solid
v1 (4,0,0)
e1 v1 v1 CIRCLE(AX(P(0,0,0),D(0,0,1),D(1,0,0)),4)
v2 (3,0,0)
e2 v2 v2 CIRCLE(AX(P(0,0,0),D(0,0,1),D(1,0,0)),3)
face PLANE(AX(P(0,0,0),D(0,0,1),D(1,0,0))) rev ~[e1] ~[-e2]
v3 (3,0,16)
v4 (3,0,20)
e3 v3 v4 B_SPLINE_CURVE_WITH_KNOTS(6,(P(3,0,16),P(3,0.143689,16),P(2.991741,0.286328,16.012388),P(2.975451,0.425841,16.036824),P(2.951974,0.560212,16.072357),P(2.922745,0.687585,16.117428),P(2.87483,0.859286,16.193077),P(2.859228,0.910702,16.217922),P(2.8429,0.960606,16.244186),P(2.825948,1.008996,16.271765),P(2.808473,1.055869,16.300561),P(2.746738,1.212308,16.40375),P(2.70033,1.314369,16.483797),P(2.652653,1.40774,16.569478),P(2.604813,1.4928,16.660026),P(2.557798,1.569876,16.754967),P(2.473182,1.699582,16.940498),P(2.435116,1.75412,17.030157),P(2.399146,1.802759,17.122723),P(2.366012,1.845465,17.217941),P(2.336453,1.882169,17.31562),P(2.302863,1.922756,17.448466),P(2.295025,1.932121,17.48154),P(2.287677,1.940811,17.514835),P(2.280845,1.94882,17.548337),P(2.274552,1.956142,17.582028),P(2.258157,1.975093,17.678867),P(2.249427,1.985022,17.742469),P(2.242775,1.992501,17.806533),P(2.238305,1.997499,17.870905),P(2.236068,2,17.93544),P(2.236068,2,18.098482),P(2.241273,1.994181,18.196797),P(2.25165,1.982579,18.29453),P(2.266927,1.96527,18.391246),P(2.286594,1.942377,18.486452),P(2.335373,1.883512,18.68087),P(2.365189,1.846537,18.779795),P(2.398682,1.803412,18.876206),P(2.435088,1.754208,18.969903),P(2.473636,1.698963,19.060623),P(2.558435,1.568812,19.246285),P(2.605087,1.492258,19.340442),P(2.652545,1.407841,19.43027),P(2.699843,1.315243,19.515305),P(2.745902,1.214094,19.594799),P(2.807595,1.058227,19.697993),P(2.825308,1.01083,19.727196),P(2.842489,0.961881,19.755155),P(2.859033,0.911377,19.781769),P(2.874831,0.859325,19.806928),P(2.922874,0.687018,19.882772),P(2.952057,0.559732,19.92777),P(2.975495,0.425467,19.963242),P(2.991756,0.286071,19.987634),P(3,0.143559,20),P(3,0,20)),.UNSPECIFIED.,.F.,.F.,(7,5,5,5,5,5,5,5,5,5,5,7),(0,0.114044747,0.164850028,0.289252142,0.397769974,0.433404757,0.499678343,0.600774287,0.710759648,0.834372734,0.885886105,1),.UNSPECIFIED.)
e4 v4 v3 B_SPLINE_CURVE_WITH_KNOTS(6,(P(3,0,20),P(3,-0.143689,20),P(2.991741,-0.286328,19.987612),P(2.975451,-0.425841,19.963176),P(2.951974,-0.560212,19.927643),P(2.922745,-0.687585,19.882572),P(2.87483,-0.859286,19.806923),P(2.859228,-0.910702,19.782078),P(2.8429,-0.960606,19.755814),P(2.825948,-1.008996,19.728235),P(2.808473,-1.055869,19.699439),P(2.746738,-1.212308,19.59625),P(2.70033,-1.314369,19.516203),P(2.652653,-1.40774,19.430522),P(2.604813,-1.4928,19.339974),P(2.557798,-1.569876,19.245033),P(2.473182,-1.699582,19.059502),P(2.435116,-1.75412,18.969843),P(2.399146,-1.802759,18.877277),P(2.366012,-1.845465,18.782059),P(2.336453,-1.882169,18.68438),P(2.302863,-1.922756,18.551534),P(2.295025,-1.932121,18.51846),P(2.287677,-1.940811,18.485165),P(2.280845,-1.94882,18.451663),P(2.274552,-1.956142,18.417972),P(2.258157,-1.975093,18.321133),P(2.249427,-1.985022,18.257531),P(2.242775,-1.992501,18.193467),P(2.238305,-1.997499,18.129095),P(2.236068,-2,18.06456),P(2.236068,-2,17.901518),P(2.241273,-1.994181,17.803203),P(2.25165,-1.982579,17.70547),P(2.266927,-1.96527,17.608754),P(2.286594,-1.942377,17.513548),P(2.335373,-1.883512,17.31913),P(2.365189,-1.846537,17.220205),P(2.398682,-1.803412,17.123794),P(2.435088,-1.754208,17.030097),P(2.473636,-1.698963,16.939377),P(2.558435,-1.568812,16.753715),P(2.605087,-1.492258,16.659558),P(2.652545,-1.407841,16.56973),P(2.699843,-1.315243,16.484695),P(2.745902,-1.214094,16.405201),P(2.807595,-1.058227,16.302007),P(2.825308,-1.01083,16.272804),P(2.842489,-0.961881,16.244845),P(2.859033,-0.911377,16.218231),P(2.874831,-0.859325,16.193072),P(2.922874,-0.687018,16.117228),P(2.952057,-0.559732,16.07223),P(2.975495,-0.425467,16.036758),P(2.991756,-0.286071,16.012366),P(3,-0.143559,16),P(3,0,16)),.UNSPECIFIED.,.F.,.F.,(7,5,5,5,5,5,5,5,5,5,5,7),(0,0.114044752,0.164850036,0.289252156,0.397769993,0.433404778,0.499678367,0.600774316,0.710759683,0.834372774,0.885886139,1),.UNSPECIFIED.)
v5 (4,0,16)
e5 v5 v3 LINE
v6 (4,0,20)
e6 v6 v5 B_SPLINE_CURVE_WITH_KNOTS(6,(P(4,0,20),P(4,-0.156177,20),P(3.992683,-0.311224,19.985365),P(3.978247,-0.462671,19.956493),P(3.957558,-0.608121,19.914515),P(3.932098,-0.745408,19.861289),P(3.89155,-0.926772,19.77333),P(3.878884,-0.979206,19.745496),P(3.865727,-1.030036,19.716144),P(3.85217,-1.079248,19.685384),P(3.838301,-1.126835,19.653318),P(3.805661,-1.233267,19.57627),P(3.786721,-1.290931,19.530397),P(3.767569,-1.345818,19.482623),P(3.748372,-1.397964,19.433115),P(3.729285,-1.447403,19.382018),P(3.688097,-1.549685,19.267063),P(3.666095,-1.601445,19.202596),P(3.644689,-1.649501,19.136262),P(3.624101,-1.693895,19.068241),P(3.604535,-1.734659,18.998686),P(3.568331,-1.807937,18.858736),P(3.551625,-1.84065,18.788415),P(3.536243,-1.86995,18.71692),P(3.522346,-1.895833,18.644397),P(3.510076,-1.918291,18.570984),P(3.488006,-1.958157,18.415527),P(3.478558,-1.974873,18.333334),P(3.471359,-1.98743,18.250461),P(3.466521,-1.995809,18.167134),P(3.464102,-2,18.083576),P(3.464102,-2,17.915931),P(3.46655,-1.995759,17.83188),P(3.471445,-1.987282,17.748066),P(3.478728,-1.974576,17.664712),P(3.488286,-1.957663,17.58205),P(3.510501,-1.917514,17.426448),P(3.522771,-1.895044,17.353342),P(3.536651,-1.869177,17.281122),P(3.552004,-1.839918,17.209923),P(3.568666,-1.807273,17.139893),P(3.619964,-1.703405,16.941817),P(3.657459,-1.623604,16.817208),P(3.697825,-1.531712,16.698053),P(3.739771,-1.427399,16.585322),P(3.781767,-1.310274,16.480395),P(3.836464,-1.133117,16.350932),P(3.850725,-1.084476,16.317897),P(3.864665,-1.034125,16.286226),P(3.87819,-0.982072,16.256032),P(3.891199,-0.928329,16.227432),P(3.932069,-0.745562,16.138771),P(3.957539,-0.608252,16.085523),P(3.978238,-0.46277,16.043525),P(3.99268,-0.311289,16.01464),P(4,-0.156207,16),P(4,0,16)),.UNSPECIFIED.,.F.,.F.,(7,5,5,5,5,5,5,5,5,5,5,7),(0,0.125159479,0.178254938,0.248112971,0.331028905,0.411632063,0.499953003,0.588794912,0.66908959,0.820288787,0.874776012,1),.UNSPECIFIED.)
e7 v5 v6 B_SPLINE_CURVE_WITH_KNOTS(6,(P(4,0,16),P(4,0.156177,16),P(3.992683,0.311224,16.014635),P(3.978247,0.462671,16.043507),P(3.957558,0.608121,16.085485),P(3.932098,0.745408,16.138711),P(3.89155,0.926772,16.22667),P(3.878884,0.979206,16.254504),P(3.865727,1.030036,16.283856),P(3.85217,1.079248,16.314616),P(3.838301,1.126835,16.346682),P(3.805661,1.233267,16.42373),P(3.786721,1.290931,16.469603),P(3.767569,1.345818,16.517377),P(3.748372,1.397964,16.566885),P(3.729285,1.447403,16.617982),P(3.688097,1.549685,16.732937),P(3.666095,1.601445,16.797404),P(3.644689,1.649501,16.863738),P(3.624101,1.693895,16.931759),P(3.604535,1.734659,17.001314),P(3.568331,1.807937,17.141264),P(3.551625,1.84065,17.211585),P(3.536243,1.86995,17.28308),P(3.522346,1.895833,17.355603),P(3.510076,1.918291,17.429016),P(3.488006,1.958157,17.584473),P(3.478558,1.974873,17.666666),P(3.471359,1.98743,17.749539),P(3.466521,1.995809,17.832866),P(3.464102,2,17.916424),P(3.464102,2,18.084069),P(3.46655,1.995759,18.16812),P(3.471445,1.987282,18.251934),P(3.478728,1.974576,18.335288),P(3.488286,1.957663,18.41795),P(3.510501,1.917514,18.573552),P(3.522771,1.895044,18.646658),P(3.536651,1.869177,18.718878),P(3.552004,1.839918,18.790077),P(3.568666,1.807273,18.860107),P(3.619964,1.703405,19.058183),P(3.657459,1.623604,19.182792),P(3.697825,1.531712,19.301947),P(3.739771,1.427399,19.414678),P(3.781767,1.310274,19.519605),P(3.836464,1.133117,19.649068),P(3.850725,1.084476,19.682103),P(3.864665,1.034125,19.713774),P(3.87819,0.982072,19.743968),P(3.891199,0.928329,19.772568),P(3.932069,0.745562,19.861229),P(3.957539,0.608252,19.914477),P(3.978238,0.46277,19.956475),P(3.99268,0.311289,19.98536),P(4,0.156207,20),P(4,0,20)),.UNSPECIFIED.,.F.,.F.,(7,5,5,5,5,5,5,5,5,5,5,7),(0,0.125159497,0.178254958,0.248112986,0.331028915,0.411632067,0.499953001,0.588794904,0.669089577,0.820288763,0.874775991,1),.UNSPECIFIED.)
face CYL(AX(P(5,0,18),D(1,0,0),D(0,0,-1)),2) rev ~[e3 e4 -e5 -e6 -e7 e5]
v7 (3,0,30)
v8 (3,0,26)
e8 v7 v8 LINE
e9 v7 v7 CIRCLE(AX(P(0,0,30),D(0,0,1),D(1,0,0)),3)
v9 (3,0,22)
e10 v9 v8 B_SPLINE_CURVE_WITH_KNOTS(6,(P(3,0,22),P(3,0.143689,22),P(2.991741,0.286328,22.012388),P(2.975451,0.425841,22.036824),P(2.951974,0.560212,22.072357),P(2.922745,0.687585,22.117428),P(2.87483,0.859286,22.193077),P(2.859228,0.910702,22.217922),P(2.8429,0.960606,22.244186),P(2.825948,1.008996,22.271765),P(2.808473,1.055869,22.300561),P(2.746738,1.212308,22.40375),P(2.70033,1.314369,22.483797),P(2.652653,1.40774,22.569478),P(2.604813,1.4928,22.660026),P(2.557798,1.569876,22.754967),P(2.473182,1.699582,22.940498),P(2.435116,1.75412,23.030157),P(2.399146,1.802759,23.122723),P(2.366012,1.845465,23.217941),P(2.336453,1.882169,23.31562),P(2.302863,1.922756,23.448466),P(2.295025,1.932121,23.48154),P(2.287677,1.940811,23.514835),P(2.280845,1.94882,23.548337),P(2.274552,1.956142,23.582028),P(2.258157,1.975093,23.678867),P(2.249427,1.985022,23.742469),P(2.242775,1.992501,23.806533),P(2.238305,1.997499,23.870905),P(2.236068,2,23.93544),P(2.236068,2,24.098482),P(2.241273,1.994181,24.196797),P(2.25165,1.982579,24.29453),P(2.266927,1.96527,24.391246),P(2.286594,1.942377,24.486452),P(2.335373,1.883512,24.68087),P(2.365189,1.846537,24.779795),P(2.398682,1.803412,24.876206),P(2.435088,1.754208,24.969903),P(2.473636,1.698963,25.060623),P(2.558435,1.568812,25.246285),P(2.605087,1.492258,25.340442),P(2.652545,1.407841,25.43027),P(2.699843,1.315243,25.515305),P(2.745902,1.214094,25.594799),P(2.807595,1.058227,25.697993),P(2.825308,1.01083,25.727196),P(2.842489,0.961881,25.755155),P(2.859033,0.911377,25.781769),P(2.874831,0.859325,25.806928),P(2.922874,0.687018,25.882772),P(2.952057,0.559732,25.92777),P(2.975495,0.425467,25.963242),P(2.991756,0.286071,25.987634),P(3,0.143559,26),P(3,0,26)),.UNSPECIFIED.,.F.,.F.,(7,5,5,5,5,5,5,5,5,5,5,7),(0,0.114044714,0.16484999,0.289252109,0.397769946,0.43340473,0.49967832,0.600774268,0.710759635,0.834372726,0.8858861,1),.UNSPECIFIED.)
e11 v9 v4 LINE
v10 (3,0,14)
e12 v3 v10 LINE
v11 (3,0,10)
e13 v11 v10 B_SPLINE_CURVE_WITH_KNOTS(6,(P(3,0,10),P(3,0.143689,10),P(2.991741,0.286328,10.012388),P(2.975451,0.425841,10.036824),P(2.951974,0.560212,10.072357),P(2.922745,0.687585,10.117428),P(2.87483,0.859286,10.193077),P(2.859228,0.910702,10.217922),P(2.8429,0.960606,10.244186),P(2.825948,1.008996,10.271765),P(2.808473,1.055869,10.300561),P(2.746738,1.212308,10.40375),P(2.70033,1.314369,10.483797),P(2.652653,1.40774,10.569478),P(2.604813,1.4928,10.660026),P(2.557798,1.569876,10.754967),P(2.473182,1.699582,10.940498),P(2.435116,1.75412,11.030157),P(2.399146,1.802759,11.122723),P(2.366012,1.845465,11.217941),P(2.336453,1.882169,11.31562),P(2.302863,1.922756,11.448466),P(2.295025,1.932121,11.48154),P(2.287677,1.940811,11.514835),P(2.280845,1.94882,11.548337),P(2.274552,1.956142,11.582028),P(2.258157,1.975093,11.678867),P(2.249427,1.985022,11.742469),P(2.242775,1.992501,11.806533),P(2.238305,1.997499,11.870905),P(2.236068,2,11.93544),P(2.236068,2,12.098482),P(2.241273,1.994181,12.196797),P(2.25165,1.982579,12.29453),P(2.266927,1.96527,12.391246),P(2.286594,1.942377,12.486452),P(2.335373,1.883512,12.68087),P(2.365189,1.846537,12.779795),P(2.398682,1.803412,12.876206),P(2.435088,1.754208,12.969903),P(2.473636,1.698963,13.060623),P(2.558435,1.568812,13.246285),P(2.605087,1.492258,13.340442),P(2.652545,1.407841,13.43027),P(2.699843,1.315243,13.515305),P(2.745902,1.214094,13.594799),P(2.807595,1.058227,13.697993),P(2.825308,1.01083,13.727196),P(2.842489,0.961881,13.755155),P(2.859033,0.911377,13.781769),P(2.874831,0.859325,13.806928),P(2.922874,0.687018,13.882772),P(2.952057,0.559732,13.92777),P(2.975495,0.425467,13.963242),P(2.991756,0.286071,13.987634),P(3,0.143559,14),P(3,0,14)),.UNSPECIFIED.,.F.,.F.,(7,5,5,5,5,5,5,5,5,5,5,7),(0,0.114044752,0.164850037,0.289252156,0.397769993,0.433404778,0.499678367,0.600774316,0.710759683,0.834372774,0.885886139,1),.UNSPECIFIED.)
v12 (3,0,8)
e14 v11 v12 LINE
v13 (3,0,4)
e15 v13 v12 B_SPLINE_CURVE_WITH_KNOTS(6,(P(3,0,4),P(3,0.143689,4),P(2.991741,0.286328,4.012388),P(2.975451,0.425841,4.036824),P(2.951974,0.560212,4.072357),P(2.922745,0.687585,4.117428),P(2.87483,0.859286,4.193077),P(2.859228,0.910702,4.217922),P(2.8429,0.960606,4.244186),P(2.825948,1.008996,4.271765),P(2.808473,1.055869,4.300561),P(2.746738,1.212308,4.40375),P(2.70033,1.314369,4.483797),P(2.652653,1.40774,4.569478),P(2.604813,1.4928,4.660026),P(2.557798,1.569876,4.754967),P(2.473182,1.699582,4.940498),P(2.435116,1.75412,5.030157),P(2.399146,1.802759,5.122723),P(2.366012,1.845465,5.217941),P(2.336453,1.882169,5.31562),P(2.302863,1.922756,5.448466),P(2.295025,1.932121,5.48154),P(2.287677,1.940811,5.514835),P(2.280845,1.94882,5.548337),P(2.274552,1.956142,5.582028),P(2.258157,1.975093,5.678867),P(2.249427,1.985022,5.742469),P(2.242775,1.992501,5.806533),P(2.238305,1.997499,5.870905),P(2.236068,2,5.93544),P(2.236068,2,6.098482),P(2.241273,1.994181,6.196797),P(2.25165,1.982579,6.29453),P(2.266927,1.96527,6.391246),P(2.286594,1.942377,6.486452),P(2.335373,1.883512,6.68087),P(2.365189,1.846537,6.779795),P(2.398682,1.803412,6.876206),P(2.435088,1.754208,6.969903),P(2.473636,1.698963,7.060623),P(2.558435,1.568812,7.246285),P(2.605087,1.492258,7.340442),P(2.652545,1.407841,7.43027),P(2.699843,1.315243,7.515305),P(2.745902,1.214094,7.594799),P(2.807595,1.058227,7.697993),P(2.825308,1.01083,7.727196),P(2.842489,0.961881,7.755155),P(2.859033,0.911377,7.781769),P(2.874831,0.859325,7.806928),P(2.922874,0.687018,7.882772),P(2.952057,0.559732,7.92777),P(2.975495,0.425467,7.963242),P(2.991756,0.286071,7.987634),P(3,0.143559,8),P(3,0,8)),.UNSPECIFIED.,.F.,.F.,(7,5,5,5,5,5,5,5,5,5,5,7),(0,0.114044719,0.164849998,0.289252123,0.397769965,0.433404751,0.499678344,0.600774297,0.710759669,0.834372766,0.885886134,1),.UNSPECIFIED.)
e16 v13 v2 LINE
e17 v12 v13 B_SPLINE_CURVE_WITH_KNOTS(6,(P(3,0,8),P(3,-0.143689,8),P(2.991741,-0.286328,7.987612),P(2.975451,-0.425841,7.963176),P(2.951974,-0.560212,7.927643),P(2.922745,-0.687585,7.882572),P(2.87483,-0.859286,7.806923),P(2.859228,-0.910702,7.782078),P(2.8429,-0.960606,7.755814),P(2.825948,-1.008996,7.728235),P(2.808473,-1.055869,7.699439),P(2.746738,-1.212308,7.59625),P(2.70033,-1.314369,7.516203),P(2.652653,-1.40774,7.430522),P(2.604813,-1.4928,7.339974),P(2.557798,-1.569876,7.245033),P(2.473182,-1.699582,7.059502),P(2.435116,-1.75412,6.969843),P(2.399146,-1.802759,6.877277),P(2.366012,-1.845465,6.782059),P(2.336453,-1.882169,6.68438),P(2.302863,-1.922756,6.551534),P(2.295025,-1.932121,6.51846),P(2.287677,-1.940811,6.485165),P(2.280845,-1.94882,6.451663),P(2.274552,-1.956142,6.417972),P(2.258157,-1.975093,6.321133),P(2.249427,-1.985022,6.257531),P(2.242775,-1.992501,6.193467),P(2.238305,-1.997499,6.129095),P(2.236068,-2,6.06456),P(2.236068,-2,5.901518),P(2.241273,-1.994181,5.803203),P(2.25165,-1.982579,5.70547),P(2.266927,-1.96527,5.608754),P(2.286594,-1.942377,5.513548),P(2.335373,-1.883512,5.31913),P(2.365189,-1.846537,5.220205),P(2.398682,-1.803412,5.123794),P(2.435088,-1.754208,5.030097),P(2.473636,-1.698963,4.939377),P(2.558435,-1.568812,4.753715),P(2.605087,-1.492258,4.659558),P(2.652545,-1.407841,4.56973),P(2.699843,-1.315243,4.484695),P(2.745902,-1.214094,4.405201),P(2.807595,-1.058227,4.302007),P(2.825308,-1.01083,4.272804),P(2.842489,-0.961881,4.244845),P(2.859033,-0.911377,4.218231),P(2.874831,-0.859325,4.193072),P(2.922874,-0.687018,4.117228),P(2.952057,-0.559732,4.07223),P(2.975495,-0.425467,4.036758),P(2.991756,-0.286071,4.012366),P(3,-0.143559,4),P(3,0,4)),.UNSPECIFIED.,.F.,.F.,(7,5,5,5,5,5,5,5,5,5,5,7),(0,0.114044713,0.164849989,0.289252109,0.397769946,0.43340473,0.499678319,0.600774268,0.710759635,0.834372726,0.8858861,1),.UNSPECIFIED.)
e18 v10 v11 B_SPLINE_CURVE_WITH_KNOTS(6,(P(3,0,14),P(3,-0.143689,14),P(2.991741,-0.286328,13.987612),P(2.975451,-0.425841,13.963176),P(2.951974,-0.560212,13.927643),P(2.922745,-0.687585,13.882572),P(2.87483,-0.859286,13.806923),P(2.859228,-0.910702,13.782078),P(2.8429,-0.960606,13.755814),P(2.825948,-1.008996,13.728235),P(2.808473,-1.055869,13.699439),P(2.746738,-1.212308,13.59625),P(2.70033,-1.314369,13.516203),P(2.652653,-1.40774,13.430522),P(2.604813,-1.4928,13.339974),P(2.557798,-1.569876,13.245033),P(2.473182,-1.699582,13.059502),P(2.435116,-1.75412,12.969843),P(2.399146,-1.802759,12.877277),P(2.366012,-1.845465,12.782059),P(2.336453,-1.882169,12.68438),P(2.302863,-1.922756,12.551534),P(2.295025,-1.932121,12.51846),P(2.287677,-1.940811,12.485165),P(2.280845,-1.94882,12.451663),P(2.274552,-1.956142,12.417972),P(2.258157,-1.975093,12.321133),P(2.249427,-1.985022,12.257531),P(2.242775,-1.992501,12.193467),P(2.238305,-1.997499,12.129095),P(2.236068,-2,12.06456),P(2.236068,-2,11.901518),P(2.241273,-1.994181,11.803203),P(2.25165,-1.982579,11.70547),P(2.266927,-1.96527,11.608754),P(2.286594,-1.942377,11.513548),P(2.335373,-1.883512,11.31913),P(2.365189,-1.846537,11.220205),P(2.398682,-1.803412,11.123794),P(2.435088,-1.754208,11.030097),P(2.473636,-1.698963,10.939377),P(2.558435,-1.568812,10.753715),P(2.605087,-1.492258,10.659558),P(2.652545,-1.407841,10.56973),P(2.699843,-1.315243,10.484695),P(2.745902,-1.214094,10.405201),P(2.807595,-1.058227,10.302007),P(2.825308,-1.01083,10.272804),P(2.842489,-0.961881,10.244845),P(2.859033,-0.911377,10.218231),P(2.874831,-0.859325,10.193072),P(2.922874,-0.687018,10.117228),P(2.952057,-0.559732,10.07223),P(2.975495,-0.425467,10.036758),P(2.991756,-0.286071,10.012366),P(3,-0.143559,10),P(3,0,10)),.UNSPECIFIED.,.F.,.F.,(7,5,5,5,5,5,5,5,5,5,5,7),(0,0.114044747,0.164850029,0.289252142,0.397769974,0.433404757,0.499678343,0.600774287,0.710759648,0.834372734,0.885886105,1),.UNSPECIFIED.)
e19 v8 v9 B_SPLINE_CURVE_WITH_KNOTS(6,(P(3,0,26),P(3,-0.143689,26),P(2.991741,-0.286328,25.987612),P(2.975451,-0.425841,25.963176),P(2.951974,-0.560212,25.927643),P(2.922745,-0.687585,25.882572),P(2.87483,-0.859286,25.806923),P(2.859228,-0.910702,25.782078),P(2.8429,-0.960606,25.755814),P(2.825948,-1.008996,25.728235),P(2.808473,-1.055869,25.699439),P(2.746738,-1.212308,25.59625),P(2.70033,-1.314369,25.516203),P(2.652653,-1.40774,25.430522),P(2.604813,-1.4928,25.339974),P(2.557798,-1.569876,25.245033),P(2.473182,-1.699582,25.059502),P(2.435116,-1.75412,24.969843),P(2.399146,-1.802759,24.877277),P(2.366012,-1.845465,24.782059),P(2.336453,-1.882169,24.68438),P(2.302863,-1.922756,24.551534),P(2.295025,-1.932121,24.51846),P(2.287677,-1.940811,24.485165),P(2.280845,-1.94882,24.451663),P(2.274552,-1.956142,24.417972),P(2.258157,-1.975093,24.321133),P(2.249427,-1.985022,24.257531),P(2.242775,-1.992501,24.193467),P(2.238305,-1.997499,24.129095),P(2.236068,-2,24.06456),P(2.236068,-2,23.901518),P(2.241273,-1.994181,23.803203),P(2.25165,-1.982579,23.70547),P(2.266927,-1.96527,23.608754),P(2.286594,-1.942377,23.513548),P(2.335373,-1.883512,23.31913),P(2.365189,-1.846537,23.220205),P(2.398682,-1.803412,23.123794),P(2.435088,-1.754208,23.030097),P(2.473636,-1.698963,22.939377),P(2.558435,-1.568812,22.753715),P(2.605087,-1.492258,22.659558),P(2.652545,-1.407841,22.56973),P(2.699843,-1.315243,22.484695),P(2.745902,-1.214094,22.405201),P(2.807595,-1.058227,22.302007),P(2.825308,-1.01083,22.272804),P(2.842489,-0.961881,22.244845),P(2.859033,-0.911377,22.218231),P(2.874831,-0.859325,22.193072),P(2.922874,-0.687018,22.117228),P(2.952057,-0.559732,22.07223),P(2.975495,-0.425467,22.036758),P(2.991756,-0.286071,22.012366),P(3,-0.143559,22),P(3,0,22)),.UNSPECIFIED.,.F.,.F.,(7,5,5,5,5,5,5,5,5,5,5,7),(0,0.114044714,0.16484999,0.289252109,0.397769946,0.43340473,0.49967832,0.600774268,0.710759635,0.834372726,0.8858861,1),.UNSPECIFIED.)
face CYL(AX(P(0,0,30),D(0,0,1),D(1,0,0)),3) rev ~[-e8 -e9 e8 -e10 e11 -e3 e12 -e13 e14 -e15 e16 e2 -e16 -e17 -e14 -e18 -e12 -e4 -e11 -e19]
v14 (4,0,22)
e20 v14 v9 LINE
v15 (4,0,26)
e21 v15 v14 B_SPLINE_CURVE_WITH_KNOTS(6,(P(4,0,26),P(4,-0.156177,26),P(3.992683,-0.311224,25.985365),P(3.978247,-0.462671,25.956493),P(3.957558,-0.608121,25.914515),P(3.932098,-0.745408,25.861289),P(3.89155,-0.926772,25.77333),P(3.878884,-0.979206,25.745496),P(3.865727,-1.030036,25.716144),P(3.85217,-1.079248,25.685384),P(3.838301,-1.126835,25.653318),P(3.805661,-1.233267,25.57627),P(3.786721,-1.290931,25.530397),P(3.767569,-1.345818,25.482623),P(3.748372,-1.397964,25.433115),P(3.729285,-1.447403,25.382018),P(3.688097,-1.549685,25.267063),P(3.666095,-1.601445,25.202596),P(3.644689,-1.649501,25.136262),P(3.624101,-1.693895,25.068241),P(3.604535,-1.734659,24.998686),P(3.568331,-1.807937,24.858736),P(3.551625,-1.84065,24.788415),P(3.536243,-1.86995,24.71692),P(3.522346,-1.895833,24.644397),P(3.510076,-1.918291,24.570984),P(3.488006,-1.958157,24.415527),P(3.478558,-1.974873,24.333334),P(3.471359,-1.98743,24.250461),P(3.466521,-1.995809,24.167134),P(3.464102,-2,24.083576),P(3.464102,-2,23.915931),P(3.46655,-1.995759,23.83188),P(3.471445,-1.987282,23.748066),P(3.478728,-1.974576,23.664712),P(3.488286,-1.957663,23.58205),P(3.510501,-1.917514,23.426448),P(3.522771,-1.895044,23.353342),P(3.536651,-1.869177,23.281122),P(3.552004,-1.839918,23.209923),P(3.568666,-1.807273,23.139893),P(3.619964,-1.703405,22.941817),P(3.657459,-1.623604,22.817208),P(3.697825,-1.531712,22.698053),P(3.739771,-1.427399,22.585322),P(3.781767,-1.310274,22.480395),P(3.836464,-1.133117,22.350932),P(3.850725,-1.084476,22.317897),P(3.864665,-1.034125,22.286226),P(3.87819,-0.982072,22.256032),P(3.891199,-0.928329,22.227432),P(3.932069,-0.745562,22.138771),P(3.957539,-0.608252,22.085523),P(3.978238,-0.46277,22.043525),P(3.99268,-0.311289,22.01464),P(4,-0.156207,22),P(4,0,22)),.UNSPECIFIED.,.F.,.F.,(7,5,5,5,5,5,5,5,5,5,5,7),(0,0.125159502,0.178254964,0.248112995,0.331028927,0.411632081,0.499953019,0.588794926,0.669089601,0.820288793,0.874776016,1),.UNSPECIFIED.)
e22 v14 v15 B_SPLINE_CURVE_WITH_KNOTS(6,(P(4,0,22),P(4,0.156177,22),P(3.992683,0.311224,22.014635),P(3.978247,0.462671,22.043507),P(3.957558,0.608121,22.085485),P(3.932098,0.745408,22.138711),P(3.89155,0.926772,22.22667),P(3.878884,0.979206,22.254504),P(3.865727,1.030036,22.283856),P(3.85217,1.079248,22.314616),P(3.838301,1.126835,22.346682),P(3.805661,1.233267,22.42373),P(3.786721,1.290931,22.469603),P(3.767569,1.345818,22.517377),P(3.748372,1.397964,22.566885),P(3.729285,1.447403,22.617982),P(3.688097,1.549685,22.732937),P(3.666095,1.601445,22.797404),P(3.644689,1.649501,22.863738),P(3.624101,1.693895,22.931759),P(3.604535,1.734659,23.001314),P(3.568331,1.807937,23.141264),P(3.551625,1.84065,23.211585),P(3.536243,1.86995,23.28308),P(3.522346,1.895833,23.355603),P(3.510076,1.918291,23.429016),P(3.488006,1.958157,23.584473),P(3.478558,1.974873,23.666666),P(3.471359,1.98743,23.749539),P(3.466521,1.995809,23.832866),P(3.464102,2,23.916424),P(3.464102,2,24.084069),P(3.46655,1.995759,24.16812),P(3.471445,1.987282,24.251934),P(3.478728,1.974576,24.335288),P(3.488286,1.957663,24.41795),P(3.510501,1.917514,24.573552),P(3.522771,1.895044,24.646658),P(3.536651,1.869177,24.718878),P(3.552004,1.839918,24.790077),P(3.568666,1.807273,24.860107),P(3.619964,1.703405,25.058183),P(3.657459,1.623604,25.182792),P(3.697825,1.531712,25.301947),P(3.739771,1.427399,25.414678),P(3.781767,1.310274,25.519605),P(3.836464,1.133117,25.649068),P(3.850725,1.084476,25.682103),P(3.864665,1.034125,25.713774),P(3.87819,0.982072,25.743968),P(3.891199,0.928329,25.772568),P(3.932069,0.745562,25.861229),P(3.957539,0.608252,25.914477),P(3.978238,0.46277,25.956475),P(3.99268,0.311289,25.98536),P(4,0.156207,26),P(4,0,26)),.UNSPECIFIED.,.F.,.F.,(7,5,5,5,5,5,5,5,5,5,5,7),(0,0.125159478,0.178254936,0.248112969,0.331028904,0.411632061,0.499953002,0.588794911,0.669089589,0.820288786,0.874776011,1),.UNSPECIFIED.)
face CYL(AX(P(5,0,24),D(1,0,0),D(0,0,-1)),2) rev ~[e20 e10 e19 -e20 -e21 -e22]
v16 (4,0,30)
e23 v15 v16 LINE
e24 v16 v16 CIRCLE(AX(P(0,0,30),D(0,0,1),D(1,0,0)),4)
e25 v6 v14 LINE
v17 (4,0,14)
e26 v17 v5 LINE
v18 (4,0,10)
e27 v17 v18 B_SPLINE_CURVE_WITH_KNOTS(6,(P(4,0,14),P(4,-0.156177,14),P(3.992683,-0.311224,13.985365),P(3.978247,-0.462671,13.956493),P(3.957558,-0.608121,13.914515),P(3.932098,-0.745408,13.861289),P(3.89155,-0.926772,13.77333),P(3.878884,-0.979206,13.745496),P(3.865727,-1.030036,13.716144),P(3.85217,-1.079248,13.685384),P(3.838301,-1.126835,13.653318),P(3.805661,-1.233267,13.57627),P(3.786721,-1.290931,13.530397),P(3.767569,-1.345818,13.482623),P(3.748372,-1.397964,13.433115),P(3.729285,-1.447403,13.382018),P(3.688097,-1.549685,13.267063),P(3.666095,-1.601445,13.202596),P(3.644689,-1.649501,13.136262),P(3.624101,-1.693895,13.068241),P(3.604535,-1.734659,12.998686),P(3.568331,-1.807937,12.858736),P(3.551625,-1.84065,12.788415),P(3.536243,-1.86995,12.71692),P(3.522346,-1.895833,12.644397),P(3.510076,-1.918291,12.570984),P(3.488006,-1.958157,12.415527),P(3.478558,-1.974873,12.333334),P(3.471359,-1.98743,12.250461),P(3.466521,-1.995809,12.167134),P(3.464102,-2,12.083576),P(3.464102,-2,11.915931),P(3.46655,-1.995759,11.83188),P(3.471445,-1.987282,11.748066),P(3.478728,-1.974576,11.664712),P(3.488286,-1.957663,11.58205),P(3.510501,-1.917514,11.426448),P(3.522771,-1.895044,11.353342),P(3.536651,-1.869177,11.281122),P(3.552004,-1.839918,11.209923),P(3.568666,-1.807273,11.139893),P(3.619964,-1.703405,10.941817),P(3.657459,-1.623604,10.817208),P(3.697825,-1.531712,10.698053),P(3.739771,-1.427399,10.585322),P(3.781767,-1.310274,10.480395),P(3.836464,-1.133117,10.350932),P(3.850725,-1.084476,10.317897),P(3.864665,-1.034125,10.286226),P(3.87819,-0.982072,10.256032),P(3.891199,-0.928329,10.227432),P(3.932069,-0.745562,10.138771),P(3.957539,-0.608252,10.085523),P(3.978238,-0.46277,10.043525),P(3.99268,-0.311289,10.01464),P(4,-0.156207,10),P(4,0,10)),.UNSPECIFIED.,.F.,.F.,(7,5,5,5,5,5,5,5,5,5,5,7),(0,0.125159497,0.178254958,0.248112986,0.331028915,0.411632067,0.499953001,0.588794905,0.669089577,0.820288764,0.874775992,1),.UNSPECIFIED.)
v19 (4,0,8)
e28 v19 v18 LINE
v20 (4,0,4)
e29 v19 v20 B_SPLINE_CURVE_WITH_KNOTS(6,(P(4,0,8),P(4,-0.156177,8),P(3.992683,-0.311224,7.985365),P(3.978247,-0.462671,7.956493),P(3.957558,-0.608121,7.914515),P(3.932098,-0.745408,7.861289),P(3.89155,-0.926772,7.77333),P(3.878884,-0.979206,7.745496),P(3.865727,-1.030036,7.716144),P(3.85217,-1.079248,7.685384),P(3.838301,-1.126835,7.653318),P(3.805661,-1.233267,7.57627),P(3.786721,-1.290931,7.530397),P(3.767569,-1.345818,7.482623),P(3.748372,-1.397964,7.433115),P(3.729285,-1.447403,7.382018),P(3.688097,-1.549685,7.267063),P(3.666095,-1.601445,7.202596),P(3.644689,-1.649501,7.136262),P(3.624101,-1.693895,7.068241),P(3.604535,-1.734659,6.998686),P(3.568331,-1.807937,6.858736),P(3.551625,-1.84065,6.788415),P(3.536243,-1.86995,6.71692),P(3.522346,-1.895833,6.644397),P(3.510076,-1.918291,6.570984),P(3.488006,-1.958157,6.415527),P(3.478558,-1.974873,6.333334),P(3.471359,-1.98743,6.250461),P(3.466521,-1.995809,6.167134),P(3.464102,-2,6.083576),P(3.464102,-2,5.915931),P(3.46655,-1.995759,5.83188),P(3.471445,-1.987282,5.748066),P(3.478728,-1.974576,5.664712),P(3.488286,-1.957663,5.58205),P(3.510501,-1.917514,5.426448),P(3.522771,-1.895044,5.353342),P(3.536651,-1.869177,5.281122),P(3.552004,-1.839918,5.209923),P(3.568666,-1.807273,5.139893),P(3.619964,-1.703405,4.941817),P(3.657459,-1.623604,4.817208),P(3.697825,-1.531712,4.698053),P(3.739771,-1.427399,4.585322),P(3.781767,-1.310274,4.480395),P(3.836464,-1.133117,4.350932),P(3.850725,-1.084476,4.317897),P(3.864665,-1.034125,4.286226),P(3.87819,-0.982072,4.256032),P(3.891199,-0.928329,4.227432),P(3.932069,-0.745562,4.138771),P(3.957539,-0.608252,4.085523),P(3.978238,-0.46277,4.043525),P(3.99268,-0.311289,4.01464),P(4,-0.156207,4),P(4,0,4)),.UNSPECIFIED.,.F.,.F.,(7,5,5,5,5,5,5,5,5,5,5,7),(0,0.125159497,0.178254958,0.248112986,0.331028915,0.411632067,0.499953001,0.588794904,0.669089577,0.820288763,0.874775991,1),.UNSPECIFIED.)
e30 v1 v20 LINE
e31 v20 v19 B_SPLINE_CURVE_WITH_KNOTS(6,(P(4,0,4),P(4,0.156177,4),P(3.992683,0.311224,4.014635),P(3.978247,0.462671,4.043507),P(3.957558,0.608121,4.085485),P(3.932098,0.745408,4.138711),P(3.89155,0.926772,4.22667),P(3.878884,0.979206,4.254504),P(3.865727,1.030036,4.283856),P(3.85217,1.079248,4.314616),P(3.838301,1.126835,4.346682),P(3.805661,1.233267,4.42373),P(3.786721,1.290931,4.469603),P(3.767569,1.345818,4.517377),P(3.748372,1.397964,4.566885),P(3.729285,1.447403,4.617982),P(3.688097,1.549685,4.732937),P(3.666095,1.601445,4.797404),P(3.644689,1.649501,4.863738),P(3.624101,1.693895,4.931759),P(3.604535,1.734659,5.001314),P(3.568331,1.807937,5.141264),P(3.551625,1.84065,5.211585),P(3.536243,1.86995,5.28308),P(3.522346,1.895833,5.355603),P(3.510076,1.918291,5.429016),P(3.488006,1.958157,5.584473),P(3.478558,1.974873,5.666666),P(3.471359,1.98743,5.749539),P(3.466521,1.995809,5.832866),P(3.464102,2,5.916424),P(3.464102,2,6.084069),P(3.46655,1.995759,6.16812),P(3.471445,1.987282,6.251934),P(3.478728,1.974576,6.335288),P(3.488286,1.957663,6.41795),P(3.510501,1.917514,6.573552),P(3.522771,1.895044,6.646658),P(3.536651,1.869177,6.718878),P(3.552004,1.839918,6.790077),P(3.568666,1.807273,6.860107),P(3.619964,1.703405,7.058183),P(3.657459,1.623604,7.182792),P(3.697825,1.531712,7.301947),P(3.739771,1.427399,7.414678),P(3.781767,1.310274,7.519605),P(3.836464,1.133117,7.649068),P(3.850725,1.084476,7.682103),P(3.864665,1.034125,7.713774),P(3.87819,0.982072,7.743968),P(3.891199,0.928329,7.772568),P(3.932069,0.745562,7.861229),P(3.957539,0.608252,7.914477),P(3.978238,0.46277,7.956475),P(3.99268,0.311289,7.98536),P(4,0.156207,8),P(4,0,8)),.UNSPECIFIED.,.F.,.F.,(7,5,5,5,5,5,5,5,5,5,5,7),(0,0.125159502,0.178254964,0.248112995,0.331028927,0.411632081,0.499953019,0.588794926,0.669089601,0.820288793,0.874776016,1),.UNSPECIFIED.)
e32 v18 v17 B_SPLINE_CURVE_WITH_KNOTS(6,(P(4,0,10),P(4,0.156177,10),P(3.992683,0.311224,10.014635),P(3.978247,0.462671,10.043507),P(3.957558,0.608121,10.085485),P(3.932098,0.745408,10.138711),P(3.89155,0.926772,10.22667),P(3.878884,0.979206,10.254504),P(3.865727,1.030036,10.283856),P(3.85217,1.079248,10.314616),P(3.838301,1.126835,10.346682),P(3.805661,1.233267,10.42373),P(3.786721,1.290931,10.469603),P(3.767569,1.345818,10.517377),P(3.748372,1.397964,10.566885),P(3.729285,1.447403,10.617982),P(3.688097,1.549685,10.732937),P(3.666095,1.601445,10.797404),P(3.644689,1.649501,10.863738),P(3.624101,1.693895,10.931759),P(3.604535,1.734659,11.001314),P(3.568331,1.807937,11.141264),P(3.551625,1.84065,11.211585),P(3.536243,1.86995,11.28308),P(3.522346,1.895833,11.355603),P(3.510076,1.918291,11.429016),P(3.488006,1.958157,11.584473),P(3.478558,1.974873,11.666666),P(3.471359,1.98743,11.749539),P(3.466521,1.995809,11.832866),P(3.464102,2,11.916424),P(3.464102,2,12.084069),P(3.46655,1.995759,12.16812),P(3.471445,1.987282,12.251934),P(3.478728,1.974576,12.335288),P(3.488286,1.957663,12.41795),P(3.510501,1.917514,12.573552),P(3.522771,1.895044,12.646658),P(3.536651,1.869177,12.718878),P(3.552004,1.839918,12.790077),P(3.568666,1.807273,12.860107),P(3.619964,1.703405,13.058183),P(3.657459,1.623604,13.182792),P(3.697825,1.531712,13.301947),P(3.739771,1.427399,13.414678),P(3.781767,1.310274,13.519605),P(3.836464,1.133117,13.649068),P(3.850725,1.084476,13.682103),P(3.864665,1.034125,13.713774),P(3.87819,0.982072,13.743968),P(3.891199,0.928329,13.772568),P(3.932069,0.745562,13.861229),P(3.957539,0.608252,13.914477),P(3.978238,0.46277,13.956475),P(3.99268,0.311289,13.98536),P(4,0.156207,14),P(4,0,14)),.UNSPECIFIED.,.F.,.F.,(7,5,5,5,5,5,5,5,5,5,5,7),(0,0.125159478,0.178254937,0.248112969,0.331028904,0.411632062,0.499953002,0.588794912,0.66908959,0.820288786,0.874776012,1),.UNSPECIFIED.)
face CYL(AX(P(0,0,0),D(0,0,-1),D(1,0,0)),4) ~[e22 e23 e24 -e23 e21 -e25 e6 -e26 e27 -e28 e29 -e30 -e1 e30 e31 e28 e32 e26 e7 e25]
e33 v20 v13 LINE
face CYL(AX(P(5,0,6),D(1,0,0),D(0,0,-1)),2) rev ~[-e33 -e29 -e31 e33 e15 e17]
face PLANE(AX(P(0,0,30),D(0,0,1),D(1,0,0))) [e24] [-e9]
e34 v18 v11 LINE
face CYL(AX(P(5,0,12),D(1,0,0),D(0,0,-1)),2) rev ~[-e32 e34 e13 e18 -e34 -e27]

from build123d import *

# Parameters (mm, degrees)
SKETCH1_R           = 4
BOSS_EXTRUDE1_DEPTH = 30
SKETCH2_R           = 3
CUT_EXTRUDE1_DEPTH  = 31
CUT_EXTRUDE2_START  = 5
SKETCH3_R           = 2
CUT_EXTRUDE2_DEPTH  = 4


with BuildPart() as part:
    # Sketch1 → Boss-Extrude1 (new body)
    with BuildSketch(Plane.XY):
        Circle(SKETCH1_R)
    extrude(amount=BOSS_EXTRUDE1_DEPTH)

    # Sketch2 → Cut-Extrude1 (cut, through all)
    with BuildSketch(Plane.XY.offset(30)):
        Circle(SKETCH2_R)
    extrude(amount=-CUT_EXTRUDE1_DEPTH, mode=Mode.SUBTRACT)

    # Sketch3 → Cut-Extrude2 (cut)
    with BuildSketch(Plane(origin=(0, 0, 0), x_dir=(0, 0, -1), z_dir=(1, 0, 0)).offset(CUT_EXTRUDE2_START)):
        with Locations((-6, 0)):
            Circle(SKETCH3_R)
        with Locations((-12, 0)):
            Circle(SKETCH3_R)
        with Locations((-18, 0)):
            Circle(SKETCH3_R)
        with Locations((-24, 0)):
            Circle(SKETCH3_R)
    extrude(amount=-CUT_EXTRUDE2_DEPTH, mode=Mode.SUBTRACT)


solid = part.part
